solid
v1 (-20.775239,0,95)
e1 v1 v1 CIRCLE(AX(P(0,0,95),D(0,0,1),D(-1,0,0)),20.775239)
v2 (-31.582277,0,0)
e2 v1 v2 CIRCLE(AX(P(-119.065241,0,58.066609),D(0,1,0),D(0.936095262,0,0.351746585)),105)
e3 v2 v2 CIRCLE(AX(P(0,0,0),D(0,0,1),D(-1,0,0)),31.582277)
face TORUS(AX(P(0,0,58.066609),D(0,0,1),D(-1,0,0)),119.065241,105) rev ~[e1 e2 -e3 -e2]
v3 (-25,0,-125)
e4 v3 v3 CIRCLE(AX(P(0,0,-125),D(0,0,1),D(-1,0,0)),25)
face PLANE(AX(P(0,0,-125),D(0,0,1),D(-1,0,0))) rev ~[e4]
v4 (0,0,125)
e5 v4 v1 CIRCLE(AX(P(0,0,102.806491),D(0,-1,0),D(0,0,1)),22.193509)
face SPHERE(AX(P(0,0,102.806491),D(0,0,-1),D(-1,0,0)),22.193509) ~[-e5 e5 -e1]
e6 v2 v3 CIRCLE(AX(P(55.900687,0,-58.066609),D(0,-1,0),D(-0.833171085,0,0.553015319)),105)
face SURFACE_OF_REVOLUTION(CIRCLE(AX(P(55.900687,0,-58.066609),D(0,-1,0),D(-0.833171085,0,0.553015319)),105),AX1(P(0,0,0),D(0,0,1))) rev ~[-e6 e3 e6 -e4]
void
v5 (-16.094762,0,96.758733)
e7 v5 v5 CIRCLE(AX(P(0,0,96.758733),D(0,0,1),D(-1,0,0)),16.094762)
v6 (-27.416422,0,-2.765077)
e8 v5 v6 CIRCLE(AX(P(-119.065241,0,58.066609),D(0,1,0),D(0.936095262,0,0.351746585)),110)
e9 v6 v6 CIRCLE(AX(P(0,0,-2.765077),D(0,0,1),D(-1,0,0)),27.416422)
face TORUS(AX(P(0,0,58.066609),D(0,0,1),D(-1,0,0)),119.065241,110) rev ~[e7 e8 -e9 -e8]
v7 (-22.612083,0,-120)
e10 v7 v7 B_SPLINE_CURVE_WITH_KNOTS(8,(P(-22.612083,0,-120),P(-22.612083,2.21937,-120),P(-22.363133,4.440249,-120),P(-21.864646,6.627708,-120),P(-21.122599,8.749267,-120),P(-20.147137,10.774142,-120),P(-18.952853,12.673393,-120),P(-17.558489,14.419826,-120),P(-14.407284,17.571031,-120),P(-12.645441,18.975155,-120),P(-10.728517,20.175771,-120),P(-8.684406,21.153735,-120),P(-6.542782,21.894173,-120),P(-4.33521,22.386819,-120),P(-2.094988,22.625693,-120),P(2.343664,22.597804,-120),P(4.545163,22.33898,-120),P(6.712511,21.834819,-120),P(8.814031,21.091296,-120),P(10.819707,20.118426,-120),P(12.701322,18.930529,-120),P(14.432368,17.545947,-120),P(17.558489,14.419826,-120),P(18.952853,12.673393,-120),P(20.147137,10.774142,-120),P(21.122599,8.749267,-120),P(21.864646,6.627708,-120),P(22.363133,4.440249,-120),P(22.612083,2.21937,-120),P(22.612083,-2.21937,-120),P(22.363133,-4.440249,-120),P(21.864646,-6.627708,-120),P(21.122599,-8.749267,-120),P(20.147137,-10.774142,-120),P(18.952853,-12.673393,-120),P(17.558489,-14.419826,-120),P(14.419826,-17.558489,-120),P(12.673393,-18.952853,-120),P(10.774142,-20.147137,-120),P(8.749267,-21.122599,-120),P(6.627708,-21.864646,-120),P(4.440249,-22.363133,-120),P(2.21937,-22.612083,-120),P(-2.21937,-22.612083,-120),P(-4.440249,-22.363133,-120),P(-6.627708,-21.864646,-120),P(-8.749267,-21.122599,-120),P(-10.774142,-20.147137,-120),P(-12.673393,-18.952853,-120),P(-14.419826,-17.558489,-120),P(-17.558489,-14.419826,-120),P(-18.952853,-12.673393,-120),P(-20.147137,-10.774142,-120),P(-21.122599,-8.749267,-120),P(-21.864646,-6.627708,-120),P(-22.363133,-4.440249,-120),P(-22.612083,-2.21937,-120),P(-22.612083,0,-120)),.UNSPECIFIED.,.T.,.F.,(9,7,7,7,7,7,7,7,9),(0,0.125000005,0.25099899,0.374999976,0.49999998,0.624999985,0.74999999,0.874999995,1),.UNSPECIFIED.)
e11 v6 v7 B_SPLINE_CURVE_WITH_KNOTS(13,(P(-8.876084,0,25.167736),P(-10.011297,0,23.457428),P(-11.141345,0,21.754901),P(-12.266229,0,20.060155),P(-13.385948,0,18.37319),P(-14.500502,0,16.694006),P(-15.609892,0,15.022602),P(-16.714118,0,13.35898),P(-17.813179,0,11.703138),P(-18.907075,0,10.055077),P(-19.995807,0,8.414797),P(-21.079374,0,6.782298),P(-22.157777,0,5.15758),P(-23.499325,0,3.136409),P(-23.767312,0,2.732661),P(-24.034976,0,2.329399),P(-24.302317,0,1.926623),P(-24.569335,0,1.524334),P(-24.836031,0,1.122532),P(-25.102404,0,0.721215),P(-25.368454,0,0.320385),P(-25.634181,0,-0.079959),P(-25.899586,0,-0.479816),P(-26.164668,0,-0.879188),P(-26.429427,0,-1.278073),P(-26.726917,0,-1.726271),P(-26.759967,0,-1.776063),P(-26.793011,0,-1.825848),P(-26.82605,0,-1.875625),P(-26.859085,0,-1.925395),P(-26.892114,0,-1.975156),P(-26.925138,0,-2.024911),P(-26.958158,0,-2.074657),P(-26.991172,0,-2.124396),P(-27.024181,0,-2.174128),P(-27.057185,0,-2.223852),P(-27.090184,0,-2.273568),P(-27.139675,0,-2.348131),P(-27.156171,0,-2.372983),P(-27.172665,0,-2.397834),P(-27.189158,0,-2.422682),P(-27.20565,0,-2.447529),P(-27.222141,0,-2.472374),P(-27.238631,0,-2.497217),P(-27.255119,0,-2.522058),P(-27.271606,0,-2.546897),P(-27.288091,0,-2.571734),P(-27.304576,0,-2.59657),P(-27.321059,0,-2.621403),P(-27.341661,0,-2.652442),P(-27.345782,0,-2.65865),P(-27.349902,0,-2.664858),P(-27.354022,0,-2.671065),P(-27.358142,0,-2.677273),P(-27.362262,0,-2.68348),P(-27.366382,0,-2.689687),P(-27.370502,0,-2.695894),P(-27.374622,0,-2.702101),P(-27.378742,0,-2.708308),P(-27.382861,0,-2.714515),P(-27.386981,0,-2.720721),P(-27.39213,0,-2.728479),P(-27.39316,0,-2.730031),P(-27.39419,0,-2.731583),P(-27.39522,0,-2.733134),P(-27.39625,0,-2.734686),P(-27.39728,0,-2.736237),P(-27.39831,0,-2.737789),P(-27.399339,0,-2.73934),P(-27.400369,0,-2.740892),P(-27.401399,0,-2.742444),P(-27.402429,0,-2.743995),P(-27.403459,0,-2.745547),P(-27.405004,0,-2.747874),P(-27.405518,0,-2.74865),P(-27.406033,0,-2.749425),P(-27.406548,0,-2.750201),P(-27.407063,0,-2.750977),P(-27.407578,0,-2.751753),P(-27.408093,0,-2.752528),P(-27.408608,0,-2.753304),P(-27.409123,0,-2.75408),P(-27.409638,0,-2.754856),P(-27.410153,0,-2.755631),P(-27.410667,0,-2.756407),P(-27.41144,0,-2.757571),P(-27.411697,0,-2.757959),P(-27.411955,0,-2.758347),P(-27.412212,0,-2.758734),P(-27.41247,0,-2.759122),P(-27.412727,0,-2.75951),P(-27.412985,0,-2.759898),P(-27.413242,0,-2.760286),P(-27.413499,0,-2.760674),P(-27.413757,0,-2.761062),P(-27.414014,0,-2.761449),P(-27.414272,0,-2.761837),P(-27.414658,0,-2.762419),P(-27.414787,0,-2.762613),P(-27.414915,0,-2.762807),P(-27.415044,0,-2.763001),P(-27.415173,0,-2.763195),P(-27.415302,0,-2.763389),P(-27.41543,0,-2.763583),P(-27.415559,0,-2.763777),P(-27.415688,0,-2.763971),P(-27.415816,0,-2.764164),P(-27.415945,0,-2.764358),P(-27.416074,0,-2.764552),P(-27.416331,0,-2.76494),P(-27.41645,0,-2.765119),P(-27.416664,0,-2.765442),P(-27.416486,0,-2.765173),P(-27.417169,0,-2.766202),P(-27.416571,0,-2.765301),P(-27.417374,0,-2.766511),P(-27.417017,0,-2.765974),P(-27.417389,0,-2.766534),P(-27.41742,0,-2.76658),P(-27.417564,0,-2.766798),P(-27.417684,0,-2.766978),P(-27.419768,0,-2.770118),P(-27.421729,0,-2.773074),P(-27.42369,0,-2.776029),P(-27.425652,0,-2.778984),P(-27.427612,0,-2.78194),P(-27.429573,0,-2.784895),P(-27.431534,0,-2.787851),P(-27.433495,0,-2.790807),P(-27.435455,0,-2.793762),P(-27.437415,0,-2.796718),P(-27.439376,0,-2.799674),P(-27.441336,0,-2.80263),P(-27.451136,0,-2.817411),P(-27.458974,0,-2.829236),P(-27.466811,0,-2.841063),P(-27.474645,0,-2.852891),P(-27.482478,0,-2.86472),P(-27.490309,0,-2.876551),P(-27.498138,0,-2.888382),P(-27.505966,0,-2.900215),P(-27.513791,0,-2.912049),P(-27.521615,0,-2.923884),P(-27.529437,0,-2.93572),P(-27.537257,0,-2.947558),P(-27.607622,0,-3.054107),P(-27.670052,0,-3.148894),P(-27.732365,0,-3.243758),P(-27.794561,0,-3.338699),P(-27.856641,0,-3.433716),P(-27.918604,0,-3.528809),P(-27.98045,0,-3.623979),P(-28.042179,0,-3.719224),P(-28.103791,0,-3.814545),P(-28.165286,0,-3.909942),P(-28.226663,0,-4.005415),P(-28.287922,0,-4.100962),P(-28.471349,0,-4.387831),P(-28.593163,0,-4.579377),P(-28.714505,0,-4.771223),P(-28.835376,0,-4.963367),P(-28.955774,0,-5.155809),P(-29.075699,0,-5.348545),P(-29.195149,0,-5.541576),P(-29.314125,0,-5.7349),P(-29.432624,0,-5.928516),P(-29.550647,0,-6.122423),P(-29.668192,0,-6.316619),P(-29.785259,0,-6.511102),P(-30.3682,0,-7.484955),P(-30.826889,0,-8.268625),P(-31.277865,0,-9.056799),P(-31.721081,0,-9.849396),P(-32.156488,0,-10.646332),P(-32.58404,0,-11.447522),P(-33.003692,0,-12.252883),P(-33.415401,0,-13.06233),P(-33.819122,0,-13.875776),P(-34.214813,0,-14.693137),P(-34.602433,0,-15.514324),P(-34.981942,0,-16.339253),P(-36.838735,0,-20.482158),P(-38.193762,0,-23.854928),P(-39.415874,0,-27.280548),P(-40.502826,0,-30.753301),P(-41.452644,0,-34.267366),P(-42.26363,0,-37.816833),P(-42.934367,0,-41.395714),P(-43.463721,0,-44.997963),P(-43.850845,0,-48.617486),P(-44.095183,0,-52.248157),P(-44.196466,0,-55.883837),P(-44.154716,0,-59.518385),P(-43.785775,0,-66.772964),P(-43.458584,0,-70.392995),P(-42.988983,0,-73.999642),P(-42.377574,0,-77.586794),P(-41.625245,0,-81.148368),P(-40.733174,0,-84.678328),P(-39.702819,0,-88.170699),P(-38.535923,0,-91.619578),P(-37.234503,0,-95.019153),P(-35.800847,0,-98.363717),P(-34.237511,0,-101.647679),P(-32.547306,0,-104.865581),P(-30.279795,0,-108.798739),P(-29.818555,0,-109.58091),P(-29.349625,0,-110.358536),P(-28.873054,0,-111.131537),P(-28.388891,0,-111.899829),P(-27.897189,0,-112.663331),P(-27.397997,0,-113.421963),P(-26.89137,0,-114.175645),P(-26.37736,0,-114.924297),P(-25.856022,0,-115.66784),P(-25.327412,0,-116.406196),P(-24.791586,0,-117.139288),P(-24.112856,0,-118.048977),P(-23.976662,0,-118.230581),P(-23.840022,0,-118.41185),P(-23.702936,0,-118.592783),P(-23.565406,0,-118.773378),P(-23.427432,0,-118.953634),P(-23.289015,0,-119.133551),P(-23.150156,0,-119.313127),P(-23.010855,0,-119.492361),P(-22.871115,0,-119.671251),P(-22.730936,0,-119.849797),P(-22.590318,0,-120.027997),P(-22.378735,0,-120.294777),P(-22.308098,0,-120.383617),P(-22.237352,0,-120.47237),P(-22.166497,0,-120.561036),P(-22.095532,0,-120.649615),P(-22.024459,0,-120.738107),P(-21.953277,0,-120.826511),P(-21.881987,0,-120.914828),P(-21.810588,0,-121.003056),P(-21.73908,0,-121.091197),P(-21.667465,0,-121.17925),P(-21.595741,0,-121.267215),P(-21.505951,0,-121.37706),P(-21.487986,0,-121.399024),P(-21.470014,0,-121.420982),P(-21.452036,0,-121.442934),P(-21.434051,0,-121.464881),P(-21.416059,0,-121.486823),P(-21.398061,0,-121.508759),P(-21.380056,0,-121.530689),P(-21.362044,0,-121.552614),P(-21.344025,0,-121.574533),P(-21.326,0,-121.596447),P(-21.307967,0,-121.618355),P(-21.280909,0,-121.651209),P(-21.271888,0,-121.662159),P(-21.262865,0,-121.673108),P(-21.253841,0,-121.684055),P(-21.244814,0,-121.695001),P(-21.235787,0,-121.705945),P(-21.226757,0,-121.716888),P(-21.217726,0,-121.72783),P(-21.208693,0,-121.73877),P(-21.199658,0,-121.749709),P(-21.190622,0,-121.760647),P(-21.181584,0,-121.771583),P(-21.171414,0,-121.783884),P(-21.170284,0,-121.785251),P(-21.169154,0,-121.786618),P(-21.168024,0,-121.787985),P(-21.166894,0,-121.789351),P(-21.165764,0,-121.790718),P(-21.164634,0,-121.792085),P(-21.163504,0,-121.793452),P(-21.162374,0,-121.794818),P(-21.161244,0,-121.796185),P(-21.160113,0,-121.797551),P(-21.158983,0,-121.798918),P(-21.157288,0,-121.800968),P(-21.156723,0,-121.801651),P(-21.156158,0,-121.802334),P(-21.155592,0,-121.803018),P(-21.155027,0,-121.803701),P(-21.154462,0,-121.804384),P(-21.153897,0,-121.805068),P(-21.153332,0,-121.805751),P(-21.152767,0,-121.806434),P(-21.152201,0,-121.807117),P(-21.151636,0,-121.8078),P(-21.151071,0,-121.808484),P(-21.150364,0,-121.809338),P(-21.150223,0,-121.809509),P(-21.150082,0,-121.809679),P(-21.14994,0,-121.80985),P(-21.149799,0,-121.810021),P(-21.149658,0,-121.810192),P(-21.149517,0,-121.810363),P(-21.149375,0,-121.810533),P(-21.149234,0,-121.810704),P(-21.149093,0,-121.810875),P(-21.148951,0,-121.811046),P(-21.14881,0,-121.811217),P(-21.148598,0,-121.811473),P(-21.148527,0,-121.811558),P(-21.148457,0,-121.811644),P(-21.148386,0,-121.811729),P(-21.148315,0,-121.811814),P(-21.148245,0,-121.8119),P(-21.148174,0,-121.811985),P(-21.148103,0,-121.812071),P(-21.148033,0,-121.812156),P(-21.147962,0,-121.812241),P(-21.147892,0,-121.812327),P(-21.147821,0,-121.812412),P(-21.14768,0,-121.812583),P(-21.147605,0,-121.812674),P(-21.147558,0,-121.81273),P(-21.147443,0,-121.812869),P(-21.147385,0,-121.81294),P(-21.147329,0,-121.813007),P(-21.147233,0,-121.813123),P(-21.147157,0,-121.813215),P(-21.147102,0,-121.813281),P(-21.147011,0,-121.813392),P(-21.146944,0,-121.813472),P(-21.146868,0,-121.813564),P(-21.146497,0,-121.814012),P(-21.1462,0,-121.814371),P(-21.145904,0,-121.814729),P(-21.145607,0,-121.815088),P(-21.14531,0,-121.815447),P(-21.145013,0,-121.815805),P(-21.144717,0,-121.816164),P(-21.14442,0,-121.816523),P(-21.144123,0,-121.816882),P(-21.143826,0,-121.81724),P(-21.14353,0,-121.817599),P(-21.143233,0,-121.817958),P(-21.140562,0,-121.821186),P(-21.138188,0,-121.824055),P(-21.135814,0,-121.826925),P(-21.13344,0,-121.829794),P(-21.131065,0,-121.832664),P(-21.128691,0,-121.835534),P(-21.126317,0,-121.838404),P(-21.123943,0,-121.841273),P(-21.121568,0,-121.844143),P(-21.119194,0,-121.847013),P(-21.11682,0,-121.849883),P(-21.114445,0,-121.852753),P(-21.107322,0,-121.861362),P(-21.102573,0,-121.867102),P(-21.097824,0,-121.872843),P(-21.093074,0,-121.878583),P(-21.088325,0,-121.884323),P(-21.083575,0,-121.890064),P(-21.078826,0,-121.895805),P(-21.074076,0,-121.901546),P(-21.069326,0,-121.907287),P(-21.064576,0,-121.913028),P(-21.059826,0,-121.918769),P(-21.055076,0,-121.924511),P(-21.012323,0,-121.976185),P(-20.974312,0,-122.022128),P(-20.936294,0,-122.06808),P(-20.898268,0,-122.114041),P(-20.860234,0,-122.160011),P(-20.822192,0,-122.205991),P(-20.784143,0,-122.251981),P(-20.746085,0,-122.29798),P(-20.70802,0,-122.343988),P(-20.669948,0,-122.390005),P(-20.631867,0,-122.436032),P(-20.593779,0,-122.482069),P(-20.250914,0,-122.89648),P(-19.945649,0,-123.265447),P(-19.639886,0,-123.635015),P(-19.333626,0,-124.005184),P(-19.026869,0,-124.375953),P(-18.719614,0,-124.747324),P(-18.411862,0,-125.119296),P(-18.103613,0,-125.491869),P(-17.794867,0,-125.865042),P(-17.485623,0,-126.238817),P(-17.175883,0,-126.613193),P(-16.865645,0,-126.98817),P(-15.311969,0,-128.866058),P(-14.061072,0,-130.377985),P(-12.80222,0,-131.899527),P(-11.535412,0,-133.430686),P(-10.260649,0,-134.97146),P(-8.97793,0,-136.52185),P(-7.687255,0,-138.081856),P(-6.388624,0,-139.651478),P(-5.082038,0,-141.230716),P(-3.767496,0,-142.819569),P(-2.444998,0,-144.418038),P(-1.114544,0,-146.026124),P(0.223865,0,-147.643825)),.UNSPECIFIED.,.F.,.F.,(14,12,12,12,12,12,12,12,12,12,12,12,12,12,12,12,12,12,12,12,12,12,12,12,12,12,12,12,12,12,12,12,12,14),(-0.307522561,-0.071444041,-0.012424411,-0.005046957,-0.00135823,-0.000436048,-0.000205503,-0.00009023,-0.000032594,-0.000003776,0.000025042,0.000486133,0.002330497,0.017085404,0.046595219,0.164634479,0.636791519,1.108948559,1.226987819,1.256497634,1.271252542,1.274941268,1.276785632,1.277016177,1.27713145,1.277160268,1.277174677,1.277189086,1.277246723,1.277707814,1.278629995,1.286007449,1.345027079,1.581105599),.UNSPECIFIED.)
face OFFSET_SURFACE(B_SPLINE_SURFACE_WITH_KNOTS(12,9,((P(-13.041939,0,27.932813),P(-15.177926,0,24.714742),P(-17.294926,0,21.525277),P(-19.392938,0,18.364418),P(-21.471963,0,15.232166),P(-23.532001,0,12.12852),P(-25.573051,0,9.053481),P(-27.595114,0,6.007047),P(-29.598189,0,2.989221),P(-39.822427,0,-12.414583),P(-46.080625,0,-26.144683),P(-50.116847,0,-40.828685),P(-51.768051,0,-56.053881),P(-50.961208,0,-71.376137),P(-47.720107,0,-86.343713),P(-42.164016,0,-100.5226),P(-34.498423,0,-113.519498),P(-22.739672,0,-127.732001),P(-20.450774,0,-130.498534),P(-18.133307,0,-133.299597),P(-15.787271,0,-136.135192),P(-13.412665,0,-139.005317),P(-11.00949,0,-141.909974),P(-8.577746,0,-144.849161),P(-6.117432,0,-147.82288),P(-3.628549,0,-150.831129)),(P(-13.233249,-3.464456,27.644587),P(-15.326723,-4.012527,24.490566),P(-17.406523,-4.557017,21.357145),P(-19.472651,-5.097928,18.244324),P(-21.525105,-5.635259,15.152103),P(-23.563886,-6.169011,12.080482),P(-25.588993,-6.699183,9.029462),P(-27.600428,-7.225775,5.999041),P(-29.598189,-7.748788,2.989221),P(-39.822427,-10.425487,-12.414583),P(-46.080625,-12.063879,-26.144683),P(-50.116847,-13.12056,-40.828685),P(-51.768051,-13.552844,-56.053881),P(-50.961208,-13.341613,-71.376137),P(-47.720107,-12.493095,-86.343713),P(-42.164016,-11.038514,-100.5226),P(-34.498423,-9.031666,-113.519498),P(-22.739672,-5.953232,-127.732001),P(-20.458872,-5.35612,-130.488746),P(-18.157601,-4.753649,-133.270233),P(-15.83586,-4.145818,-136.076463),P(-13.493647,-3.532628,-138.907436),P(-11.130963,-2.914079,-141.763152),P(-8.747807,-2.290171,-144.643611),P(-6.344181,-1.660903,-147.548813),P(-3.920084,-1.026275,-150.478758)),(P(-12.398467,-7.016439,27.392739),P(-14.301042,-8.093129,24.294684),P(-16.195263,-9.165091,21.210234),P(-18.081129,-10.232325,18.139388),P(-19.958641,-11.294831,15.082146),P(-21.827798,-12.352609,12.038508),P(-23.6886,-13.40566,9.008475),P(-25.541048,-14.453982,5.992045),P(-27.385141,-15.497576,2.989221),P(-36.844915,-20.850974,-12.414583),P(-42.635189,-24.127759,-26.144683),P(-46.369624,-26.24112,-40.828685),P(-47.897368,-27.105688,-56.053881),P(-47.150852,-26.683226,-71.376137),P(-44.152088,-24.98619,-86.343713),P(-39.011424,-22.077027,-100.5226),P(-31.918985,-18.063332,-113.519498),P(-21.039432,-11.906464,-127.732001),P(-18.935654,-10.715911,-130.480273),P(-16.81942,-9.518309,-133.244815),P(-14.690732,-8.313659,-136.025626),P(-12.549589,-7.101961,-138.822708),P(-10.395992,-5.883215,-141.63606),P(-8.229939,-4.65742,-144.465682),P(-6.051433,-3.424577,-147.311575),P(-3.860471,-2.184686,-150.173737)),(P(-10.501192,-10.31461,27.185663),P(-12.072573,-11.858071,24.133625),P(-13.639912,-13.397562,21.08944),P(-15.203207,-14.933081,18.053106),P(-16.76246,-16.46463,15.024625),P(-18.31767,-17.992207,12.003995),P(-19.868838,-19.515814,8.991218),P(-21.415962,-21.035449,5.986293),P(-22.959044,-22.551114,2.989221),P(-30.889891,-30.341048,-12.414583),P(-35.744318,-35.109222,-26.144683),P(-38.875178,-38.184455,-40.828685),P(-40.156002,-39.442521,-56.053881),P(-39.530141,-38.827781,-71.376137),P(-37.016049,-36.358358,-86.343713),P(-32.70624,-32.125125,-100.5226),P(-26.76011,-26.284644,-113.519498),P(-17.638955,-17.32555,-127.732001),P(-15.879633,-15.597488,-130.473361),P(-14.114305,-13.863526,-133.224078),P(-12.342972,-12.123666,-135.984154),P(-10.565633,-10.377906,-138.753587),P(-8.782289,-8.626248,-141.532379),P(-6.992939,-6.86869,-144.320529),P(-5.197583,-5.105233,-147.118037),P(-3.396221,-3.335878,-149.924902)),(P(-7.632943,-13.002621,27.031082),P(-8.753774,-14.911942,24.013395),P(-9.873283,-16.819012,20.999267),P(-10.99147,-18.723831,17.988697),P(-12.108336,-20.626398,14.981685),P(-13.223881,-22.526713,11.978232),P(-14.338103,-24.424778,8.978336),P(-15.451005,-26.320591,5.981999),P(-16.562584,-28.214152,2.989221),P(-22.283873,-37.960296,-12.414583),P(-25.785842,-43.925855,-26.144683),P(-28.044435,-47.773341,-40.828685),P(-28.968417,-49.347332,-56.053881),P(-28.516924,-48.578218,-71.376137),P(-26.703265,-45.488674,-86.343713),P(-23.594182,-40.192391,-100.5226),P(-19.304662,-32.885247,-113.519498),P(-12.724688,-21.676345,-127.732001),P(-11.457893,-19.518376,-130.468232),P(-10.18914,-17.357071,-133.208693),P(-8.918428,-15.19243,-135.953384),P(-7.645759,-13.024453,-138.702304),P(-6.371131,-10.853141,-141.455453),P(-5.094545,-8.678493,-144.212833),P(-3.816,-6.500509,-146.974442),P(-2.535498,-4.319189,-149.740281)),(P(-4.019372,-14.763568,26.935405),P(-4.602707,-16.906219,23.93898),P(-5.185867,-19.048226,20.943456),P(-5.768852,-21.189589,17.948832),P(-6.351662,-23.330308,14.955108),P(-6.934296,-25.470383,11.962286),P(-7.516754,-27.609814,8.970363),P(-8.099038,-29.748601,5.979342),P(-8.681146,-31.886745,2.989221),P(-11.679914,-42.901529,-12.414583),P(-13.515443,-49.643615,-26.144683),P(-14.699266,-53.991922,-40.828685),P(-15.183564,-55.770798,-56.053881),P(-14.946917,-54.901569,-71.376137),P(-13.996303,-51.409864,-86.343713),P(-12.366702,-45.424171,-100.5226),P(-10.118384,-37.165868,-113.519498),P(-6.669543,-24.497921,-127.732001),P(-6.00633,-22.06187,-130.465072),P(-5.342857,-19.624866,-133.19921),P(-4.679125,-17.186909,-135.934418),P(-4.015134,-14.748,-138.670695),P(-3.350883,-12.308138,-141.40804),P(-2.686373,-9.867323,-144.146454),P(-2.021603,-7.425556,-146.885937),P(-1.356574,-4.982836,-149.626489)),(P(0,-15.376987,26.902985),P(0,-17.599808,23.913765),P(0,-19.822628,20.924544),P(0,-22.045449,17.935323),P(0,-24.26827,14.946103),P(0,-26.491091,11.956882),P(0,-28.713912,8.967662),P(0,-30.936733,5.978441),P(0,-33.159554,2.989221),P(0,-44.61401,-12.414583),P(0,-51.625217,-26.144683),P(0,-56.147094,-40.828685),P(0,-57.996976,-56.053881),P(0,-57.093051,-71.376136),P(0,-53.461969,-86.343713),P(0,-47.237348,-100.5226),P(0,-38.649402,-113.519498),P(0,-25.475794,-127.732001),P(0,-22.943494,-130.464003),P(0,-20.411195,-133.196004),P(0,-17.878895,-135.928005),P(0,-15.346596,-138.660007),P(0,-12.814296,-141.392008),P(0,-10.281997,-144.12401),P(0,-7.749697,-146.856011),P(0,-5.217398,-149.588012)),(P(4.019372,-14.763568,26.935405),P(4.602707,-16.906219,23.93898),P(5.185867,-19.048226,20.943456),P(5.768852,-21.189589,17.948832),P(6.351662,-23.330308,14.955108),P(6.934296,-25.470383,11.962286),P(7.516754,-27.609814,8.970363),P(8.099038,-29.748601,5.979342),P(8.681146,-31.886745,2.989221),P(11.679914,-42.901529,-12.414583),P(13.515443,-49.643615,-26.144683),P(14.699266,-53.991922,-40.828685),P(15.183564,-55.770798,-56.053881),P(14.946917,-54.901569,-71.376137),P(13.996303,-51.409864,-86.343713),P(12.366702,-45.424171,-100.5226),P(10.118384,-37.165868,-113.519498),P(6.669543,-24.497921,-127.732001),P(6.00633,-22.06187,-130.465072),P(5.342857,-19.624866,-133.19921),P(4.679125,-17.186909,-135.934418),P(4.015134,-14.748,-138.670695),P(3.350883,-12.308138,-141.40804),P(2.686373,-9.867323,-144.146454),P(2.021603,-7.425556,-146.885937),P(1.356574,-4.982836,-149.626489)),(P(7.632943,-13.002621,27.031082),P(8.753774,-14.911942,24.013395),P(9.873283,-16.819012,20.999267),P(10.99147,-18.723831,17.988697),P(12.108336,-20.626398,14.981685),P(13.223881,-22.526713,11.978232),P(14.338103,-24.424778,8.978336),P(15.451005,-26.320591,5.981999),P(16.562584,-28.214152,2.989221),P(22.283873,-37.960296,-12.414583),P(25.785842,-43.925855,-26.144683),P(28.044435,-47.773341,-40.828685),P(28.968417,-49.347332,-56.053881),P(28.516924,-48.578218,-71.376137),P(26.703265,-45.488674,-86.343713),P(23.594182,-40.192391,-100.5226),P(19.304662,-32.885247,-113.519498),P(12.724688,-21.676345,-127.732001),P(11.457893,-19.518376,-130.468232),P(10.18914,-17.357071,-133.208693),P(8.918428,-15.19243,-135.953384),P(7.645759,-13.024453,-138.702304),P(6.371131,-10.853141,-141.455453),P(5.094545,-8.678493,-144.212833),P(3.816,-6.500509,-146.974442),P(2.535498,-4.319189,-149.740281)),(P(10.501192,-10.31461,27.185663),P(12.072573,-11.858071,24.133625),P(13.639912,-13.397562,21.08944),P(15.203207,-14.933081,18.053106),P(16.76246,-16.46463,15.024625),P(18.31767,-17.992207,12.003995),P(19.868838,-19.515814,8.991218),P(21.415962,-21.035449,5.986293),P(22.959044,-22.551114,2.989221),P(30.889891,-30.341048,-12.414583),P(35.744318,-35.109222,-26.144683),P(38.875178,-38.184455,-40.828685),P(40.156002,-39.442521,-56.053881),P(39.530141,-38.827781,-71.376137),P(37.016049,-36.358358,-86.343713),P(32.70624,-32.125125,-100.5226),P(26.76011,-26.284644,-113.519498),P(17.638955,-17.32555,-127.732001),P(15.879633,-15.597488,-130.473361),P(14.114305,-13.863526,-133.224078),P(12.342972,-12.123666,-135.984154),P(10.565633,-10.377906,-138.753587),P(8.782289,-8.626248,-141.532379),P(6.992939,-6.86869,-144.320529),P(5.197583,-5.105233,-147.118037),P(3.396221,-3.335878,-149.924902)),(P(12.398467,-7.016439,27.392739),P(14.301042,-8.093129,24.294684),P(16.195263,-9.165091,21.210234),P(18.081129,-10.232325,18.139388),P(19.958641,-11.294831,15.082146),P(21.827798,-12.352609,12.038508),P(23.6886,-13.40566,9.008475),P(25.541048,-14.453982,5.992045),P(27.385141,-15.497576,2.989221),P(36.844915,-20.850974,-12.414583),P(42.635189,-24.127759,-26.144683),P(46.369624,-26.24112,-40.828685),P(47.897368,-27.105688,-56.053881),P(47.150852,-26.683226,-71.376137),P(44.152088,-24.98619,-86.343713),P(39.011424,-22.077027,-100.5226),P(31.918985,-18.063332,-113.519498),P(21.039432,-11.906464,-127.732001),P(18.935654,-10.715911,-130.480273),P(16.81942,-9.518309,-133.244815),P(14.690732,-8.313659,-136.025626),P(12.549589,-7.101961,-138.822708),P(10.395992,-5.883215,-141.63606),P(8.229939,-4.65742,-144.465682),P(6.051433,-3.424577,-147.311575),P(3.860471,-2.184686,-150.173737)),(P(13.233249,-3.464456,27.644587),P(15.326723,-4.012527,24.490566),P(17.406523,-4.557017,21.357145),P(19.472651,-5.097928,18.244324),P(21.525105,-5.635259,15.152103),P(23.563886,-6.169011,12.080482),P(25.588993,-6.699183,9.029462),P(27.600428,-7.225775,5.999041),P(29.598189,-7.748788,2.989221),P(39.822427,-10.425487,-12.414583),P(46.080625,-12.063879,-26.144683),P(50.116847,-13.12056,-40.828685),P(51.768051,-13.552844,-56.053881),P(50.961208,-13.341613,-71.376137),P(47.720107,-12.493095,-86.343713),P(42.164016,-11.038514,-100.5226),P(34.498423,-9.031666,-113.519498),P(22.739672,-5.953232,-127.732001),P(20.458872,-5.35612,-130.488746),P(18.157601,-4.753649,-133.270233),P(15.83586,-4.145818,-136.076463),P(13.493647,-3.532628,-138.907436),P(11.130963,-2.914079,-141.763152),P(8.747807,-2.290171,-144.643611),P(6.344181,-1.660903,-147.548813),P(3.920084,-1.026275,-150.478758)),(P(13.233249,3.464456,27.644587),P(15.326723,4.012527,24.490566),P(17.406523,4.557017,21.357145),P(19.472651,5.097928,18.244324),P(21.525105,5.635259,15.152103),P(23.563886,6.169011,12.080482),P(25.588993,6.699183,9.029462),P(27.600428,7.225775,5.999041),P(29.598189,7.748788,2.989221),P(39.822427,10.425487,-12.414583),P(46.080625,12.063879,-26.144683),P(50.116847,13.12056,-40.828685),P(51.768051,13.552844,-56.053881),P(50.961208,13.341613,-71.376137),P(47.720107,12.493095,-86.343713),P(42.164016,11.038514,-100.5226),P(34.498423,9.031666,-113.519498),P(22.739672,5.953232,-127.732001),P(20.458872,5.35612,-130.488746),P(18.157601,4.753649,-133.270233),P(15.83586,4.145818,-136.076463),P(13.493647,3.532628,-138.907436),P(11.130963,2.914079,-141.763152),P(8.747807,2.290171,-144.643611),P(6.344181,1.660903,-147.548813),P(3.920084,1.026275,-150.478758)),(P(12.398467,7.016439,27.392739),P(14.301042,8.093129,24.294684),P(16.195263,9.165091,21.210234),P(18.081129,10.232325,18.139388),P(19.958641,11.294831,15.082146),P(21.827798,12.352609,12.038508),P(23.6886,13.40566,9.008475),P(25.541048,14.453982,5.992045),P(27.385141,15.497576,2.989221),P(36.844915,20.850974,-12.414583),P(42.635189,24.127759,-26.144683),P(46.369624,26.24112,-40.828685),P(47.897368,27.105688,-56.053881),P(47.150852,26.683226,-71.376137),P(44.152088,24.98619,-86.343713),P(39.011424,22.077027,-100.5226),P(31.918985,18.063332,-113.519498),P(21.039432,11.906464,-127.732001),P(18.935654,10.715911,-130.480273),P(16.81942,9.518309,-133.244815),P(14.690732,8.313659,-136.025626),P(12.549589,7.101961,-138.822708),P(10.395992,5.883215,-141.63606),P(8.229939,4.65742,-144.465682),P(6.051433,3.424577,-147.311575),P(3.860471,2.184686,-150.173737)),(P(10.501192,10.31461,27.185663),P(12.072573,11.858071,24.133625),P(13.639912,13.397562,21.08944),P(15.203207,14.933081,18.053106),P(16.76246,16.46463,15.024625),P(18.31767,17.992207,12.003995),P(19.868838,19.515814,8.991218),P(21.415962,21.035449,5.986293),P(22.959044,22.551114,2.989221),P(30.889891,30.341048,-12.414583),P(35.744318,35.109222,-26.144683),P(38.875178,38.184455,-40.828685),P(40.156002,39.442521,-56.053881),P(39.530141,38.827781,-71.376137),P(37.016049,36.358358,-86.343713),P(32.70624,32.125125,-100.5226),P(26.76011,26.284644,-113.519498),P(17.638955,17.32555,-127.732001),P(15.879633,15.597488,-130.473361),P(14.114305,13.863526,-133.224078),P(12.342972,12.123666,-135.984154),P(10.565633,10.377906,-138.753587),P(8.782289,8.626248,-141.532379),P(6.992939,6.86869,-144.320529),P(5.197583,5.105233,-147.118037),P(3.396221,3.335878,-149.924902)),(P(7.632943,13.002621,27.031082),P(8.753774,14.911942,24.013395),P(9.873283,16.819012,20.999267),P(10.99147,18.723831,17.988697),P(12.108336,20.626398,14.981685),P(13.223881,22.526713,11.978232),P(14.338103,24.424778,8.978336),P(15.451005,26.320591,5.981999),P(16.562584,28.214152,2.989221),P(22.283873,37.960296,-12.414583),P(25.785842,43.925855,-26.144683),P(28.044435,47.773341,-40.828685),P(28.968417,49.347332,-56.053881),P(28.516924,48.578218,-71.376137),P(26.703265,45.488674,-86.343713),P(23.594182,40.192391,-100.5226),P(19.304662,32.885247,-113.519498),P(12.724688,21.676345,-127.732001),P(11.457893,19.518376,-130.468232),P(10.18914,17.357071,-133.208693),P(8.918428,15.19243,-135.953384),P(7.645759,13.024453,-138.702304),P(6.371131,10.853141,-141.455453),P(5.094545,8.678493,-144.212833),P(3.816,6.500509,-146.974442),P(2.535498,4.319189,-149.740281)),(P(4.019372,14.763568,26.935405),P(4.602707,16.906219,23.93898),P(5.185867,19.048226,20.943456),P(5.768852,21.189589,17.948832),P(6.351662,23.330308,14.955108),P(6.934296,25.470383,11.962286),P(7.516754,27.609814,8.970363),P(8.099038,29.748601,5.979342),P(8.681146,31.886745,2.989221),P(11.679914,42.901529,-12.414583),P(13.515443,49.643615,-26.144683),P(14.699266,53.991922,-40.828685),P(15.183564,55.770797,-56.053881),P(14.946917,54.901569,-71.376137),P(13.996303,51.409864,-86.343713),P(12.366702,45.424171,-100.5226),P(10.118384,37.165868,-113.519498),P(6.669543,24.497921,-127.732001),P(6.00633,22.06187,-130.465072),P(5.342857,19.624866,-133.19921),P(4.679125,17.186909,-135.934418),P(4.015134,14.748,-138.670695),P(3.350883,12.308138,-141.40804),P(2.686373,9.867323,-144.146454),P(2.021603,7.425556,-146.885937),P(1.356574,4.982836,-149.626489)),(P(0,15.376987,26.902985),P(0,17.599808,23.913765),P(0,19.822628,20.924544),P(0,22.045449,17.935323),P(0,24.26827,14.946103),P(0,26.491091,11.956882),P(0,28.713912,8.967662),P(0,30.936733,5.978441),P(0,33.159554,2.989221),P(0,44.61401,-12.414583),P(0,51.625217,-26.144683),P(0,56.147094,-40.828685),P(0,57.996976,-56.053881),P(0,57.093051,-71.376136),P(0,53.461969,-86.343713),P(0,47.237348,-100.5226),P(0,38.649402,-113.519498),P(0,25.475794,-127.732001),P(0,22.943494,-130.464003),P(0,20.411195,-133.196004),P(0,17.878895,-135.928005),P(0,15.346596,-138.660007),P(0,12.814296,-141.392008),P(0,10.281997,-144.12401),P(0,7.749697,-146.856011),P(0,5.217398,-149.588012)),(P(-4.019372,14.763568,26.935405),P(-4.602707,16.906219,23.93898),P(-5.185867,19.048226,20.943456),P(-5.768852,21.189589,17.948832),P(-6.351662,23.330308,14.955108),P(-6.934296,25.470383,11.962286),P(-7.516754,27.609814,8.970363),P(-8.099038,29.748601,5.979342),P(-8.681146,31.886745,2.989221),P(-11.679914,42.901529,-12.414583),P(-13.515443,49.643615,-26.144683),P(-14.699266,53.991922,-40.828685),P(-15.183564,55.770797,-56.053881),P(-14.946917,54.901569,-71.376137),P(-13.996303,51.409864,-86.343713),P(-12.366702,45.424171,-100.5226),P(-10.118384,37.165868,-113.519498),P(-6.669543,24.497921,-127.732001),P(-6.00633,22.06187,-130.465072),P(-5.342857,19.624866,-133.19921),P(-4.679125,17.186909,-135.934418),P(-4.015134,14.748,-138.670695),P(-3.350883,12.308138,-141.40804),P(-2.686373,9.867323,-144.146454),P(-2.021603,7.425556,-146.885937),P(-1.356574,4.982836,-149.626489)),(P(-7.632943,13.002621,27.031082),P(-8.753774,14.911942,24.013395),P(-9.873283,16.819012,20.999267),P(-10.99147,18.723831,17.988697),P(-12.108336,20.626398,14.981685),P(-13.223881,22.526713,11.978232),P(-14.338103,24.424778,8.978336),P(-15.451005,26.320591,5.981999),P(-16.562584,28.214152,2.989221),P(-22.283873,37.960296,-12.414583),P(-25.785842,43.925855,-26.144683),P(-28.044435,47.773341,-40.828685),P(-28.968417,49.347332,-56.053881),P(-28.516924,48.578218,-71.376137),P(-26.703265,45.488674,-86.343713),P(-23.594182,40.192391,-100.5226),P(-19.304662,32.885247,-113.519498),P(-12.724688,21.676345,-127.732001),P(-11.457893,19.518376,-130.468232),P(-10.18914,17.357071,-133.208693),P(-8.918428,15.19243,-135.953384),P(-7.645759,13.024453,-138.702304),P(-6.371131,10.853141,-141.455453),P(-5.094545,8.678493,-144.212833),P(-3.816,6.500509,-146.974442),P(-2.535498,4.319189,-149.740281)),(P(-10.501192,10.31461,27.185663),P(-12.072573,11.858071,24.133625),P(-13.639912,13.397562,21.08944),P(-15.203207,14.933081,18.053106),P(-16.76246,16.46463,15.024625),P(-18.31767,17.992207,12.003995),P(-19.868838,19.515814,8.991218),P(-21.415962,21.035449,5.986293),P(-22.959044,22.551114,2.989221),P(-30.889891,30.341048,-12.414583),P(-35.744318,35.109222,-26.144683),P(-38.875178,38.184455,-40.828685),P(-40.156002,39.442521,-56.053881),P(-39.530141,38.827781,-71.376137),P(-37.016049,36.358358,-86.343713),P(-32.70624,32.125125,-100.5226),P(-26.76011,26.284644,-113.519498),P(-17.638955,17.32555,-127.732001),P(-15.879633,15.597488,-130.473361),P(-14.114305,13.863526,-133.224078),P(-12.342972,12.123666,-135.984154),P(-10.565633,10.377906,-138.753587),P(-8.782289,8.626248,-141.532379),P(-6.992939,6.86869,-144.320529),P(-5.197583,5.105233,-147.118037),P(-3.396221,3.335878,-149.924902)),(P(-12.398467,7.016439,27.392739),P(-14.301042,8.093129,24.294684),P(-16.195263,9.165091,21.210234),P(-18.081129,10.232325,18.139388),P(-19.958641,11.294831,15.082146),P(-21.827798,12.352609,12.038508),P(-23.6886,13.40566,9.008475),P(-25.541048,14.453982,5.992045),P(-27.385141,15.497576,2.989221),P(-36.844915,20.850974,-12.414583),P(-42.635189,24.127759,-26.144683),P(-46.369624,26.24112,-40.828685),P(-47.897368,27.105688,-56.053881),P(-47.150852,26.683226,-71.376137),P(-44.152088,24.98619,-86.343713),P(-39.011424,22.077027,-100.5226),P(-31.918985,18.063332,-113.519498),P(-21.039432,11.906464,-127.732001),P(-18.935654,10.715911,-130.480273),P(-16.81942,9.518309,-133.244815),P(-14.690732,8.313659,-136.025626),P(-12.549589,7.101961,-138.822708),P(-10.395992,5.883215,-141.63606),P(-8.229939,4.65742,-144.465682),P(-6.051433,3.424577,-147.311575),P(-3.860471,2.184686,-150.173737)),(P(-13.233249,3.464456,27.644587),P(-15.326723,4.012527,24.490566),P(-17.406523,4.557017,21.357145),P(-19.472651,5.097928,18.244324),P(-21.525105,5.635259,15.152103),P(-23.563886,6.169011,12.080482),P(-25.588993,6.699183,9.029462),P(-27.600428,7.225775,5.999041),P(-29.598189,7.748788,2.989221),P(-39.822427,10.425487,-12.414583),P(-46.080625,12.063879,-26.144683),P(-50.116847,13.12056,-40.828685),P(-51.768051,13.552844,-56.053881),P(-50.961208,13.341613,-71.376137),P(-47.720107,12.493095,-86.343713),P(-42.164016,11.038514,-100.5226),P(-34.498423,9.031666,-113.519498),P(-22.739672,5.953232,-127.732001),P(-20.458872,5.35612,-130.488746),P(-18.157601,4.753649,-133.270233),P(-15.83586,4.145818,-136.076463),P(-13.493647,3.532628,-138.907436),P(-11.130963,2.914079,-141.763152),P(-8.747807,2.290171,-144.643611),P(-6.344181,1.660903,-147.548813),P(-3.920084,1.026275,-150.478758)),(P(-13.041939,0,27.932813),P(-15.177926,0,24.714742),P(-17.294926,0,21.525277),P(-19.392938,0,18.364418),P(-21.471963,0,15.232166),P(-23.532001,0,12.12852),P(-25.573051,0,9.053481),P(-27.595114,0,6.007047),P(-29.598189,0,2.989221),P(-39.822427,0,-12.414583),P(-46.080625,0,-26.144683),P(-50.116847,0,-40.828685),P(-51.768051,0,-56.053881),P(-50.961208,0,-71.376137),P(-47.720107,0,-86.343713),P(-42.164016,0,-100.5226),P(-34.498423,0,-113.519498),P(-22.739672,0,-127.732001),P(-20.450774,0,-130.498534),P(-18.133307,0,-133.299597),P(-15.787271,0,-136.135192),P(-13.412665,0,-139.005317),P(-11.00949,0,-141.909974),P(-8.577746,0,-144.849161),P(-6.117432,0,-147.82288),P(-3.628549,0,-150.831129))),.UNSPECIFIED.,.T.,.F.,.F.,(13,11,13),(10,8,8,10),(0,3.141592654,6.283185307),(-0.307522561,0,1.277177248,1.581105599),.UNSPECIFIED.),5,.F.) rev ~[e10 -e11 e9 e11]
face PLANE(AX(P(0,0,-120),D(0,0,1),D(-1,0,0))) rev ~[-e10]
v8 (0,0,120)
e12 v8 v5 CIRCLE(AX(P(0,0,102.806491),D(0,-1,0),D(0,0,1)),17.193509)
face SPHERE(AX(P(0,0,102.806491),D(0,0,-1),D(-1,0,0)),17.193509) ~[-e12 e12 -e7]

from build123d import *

# Parameters (mm, degrees)
F2_T = -5


with BuildPart() as f1:
    # F0 (on Front) → F1 (revolve)
    with BuildSketch(Plane.XZ):
        with BuildLine():
            Line((-25, -125), (0, -125))
            Line((0, -125), (0, 125))
            ThreePointArc((0, 125), (-18.2456196083, 115.4417277094), (-20.7752386162, 95))
            ThreePointArc((-20.7752386162, 95), (-14.7381173167, 46.1985321612), (-31.5822772233, 0))
            ThreePointArc((-31.5822772233, 0), (-48.9540387536, -63.5880714958), (-25, -125))
        make_face()
    revolve(axis=Axis((0, 0, 0), (0, 0, 1)))

    # F2 (hollow: no face is removed)
    offset(amount=F2_T, kind=Kind.INTERSECTION, mode=Mode.SUBTRACT)


solid = f1.part
